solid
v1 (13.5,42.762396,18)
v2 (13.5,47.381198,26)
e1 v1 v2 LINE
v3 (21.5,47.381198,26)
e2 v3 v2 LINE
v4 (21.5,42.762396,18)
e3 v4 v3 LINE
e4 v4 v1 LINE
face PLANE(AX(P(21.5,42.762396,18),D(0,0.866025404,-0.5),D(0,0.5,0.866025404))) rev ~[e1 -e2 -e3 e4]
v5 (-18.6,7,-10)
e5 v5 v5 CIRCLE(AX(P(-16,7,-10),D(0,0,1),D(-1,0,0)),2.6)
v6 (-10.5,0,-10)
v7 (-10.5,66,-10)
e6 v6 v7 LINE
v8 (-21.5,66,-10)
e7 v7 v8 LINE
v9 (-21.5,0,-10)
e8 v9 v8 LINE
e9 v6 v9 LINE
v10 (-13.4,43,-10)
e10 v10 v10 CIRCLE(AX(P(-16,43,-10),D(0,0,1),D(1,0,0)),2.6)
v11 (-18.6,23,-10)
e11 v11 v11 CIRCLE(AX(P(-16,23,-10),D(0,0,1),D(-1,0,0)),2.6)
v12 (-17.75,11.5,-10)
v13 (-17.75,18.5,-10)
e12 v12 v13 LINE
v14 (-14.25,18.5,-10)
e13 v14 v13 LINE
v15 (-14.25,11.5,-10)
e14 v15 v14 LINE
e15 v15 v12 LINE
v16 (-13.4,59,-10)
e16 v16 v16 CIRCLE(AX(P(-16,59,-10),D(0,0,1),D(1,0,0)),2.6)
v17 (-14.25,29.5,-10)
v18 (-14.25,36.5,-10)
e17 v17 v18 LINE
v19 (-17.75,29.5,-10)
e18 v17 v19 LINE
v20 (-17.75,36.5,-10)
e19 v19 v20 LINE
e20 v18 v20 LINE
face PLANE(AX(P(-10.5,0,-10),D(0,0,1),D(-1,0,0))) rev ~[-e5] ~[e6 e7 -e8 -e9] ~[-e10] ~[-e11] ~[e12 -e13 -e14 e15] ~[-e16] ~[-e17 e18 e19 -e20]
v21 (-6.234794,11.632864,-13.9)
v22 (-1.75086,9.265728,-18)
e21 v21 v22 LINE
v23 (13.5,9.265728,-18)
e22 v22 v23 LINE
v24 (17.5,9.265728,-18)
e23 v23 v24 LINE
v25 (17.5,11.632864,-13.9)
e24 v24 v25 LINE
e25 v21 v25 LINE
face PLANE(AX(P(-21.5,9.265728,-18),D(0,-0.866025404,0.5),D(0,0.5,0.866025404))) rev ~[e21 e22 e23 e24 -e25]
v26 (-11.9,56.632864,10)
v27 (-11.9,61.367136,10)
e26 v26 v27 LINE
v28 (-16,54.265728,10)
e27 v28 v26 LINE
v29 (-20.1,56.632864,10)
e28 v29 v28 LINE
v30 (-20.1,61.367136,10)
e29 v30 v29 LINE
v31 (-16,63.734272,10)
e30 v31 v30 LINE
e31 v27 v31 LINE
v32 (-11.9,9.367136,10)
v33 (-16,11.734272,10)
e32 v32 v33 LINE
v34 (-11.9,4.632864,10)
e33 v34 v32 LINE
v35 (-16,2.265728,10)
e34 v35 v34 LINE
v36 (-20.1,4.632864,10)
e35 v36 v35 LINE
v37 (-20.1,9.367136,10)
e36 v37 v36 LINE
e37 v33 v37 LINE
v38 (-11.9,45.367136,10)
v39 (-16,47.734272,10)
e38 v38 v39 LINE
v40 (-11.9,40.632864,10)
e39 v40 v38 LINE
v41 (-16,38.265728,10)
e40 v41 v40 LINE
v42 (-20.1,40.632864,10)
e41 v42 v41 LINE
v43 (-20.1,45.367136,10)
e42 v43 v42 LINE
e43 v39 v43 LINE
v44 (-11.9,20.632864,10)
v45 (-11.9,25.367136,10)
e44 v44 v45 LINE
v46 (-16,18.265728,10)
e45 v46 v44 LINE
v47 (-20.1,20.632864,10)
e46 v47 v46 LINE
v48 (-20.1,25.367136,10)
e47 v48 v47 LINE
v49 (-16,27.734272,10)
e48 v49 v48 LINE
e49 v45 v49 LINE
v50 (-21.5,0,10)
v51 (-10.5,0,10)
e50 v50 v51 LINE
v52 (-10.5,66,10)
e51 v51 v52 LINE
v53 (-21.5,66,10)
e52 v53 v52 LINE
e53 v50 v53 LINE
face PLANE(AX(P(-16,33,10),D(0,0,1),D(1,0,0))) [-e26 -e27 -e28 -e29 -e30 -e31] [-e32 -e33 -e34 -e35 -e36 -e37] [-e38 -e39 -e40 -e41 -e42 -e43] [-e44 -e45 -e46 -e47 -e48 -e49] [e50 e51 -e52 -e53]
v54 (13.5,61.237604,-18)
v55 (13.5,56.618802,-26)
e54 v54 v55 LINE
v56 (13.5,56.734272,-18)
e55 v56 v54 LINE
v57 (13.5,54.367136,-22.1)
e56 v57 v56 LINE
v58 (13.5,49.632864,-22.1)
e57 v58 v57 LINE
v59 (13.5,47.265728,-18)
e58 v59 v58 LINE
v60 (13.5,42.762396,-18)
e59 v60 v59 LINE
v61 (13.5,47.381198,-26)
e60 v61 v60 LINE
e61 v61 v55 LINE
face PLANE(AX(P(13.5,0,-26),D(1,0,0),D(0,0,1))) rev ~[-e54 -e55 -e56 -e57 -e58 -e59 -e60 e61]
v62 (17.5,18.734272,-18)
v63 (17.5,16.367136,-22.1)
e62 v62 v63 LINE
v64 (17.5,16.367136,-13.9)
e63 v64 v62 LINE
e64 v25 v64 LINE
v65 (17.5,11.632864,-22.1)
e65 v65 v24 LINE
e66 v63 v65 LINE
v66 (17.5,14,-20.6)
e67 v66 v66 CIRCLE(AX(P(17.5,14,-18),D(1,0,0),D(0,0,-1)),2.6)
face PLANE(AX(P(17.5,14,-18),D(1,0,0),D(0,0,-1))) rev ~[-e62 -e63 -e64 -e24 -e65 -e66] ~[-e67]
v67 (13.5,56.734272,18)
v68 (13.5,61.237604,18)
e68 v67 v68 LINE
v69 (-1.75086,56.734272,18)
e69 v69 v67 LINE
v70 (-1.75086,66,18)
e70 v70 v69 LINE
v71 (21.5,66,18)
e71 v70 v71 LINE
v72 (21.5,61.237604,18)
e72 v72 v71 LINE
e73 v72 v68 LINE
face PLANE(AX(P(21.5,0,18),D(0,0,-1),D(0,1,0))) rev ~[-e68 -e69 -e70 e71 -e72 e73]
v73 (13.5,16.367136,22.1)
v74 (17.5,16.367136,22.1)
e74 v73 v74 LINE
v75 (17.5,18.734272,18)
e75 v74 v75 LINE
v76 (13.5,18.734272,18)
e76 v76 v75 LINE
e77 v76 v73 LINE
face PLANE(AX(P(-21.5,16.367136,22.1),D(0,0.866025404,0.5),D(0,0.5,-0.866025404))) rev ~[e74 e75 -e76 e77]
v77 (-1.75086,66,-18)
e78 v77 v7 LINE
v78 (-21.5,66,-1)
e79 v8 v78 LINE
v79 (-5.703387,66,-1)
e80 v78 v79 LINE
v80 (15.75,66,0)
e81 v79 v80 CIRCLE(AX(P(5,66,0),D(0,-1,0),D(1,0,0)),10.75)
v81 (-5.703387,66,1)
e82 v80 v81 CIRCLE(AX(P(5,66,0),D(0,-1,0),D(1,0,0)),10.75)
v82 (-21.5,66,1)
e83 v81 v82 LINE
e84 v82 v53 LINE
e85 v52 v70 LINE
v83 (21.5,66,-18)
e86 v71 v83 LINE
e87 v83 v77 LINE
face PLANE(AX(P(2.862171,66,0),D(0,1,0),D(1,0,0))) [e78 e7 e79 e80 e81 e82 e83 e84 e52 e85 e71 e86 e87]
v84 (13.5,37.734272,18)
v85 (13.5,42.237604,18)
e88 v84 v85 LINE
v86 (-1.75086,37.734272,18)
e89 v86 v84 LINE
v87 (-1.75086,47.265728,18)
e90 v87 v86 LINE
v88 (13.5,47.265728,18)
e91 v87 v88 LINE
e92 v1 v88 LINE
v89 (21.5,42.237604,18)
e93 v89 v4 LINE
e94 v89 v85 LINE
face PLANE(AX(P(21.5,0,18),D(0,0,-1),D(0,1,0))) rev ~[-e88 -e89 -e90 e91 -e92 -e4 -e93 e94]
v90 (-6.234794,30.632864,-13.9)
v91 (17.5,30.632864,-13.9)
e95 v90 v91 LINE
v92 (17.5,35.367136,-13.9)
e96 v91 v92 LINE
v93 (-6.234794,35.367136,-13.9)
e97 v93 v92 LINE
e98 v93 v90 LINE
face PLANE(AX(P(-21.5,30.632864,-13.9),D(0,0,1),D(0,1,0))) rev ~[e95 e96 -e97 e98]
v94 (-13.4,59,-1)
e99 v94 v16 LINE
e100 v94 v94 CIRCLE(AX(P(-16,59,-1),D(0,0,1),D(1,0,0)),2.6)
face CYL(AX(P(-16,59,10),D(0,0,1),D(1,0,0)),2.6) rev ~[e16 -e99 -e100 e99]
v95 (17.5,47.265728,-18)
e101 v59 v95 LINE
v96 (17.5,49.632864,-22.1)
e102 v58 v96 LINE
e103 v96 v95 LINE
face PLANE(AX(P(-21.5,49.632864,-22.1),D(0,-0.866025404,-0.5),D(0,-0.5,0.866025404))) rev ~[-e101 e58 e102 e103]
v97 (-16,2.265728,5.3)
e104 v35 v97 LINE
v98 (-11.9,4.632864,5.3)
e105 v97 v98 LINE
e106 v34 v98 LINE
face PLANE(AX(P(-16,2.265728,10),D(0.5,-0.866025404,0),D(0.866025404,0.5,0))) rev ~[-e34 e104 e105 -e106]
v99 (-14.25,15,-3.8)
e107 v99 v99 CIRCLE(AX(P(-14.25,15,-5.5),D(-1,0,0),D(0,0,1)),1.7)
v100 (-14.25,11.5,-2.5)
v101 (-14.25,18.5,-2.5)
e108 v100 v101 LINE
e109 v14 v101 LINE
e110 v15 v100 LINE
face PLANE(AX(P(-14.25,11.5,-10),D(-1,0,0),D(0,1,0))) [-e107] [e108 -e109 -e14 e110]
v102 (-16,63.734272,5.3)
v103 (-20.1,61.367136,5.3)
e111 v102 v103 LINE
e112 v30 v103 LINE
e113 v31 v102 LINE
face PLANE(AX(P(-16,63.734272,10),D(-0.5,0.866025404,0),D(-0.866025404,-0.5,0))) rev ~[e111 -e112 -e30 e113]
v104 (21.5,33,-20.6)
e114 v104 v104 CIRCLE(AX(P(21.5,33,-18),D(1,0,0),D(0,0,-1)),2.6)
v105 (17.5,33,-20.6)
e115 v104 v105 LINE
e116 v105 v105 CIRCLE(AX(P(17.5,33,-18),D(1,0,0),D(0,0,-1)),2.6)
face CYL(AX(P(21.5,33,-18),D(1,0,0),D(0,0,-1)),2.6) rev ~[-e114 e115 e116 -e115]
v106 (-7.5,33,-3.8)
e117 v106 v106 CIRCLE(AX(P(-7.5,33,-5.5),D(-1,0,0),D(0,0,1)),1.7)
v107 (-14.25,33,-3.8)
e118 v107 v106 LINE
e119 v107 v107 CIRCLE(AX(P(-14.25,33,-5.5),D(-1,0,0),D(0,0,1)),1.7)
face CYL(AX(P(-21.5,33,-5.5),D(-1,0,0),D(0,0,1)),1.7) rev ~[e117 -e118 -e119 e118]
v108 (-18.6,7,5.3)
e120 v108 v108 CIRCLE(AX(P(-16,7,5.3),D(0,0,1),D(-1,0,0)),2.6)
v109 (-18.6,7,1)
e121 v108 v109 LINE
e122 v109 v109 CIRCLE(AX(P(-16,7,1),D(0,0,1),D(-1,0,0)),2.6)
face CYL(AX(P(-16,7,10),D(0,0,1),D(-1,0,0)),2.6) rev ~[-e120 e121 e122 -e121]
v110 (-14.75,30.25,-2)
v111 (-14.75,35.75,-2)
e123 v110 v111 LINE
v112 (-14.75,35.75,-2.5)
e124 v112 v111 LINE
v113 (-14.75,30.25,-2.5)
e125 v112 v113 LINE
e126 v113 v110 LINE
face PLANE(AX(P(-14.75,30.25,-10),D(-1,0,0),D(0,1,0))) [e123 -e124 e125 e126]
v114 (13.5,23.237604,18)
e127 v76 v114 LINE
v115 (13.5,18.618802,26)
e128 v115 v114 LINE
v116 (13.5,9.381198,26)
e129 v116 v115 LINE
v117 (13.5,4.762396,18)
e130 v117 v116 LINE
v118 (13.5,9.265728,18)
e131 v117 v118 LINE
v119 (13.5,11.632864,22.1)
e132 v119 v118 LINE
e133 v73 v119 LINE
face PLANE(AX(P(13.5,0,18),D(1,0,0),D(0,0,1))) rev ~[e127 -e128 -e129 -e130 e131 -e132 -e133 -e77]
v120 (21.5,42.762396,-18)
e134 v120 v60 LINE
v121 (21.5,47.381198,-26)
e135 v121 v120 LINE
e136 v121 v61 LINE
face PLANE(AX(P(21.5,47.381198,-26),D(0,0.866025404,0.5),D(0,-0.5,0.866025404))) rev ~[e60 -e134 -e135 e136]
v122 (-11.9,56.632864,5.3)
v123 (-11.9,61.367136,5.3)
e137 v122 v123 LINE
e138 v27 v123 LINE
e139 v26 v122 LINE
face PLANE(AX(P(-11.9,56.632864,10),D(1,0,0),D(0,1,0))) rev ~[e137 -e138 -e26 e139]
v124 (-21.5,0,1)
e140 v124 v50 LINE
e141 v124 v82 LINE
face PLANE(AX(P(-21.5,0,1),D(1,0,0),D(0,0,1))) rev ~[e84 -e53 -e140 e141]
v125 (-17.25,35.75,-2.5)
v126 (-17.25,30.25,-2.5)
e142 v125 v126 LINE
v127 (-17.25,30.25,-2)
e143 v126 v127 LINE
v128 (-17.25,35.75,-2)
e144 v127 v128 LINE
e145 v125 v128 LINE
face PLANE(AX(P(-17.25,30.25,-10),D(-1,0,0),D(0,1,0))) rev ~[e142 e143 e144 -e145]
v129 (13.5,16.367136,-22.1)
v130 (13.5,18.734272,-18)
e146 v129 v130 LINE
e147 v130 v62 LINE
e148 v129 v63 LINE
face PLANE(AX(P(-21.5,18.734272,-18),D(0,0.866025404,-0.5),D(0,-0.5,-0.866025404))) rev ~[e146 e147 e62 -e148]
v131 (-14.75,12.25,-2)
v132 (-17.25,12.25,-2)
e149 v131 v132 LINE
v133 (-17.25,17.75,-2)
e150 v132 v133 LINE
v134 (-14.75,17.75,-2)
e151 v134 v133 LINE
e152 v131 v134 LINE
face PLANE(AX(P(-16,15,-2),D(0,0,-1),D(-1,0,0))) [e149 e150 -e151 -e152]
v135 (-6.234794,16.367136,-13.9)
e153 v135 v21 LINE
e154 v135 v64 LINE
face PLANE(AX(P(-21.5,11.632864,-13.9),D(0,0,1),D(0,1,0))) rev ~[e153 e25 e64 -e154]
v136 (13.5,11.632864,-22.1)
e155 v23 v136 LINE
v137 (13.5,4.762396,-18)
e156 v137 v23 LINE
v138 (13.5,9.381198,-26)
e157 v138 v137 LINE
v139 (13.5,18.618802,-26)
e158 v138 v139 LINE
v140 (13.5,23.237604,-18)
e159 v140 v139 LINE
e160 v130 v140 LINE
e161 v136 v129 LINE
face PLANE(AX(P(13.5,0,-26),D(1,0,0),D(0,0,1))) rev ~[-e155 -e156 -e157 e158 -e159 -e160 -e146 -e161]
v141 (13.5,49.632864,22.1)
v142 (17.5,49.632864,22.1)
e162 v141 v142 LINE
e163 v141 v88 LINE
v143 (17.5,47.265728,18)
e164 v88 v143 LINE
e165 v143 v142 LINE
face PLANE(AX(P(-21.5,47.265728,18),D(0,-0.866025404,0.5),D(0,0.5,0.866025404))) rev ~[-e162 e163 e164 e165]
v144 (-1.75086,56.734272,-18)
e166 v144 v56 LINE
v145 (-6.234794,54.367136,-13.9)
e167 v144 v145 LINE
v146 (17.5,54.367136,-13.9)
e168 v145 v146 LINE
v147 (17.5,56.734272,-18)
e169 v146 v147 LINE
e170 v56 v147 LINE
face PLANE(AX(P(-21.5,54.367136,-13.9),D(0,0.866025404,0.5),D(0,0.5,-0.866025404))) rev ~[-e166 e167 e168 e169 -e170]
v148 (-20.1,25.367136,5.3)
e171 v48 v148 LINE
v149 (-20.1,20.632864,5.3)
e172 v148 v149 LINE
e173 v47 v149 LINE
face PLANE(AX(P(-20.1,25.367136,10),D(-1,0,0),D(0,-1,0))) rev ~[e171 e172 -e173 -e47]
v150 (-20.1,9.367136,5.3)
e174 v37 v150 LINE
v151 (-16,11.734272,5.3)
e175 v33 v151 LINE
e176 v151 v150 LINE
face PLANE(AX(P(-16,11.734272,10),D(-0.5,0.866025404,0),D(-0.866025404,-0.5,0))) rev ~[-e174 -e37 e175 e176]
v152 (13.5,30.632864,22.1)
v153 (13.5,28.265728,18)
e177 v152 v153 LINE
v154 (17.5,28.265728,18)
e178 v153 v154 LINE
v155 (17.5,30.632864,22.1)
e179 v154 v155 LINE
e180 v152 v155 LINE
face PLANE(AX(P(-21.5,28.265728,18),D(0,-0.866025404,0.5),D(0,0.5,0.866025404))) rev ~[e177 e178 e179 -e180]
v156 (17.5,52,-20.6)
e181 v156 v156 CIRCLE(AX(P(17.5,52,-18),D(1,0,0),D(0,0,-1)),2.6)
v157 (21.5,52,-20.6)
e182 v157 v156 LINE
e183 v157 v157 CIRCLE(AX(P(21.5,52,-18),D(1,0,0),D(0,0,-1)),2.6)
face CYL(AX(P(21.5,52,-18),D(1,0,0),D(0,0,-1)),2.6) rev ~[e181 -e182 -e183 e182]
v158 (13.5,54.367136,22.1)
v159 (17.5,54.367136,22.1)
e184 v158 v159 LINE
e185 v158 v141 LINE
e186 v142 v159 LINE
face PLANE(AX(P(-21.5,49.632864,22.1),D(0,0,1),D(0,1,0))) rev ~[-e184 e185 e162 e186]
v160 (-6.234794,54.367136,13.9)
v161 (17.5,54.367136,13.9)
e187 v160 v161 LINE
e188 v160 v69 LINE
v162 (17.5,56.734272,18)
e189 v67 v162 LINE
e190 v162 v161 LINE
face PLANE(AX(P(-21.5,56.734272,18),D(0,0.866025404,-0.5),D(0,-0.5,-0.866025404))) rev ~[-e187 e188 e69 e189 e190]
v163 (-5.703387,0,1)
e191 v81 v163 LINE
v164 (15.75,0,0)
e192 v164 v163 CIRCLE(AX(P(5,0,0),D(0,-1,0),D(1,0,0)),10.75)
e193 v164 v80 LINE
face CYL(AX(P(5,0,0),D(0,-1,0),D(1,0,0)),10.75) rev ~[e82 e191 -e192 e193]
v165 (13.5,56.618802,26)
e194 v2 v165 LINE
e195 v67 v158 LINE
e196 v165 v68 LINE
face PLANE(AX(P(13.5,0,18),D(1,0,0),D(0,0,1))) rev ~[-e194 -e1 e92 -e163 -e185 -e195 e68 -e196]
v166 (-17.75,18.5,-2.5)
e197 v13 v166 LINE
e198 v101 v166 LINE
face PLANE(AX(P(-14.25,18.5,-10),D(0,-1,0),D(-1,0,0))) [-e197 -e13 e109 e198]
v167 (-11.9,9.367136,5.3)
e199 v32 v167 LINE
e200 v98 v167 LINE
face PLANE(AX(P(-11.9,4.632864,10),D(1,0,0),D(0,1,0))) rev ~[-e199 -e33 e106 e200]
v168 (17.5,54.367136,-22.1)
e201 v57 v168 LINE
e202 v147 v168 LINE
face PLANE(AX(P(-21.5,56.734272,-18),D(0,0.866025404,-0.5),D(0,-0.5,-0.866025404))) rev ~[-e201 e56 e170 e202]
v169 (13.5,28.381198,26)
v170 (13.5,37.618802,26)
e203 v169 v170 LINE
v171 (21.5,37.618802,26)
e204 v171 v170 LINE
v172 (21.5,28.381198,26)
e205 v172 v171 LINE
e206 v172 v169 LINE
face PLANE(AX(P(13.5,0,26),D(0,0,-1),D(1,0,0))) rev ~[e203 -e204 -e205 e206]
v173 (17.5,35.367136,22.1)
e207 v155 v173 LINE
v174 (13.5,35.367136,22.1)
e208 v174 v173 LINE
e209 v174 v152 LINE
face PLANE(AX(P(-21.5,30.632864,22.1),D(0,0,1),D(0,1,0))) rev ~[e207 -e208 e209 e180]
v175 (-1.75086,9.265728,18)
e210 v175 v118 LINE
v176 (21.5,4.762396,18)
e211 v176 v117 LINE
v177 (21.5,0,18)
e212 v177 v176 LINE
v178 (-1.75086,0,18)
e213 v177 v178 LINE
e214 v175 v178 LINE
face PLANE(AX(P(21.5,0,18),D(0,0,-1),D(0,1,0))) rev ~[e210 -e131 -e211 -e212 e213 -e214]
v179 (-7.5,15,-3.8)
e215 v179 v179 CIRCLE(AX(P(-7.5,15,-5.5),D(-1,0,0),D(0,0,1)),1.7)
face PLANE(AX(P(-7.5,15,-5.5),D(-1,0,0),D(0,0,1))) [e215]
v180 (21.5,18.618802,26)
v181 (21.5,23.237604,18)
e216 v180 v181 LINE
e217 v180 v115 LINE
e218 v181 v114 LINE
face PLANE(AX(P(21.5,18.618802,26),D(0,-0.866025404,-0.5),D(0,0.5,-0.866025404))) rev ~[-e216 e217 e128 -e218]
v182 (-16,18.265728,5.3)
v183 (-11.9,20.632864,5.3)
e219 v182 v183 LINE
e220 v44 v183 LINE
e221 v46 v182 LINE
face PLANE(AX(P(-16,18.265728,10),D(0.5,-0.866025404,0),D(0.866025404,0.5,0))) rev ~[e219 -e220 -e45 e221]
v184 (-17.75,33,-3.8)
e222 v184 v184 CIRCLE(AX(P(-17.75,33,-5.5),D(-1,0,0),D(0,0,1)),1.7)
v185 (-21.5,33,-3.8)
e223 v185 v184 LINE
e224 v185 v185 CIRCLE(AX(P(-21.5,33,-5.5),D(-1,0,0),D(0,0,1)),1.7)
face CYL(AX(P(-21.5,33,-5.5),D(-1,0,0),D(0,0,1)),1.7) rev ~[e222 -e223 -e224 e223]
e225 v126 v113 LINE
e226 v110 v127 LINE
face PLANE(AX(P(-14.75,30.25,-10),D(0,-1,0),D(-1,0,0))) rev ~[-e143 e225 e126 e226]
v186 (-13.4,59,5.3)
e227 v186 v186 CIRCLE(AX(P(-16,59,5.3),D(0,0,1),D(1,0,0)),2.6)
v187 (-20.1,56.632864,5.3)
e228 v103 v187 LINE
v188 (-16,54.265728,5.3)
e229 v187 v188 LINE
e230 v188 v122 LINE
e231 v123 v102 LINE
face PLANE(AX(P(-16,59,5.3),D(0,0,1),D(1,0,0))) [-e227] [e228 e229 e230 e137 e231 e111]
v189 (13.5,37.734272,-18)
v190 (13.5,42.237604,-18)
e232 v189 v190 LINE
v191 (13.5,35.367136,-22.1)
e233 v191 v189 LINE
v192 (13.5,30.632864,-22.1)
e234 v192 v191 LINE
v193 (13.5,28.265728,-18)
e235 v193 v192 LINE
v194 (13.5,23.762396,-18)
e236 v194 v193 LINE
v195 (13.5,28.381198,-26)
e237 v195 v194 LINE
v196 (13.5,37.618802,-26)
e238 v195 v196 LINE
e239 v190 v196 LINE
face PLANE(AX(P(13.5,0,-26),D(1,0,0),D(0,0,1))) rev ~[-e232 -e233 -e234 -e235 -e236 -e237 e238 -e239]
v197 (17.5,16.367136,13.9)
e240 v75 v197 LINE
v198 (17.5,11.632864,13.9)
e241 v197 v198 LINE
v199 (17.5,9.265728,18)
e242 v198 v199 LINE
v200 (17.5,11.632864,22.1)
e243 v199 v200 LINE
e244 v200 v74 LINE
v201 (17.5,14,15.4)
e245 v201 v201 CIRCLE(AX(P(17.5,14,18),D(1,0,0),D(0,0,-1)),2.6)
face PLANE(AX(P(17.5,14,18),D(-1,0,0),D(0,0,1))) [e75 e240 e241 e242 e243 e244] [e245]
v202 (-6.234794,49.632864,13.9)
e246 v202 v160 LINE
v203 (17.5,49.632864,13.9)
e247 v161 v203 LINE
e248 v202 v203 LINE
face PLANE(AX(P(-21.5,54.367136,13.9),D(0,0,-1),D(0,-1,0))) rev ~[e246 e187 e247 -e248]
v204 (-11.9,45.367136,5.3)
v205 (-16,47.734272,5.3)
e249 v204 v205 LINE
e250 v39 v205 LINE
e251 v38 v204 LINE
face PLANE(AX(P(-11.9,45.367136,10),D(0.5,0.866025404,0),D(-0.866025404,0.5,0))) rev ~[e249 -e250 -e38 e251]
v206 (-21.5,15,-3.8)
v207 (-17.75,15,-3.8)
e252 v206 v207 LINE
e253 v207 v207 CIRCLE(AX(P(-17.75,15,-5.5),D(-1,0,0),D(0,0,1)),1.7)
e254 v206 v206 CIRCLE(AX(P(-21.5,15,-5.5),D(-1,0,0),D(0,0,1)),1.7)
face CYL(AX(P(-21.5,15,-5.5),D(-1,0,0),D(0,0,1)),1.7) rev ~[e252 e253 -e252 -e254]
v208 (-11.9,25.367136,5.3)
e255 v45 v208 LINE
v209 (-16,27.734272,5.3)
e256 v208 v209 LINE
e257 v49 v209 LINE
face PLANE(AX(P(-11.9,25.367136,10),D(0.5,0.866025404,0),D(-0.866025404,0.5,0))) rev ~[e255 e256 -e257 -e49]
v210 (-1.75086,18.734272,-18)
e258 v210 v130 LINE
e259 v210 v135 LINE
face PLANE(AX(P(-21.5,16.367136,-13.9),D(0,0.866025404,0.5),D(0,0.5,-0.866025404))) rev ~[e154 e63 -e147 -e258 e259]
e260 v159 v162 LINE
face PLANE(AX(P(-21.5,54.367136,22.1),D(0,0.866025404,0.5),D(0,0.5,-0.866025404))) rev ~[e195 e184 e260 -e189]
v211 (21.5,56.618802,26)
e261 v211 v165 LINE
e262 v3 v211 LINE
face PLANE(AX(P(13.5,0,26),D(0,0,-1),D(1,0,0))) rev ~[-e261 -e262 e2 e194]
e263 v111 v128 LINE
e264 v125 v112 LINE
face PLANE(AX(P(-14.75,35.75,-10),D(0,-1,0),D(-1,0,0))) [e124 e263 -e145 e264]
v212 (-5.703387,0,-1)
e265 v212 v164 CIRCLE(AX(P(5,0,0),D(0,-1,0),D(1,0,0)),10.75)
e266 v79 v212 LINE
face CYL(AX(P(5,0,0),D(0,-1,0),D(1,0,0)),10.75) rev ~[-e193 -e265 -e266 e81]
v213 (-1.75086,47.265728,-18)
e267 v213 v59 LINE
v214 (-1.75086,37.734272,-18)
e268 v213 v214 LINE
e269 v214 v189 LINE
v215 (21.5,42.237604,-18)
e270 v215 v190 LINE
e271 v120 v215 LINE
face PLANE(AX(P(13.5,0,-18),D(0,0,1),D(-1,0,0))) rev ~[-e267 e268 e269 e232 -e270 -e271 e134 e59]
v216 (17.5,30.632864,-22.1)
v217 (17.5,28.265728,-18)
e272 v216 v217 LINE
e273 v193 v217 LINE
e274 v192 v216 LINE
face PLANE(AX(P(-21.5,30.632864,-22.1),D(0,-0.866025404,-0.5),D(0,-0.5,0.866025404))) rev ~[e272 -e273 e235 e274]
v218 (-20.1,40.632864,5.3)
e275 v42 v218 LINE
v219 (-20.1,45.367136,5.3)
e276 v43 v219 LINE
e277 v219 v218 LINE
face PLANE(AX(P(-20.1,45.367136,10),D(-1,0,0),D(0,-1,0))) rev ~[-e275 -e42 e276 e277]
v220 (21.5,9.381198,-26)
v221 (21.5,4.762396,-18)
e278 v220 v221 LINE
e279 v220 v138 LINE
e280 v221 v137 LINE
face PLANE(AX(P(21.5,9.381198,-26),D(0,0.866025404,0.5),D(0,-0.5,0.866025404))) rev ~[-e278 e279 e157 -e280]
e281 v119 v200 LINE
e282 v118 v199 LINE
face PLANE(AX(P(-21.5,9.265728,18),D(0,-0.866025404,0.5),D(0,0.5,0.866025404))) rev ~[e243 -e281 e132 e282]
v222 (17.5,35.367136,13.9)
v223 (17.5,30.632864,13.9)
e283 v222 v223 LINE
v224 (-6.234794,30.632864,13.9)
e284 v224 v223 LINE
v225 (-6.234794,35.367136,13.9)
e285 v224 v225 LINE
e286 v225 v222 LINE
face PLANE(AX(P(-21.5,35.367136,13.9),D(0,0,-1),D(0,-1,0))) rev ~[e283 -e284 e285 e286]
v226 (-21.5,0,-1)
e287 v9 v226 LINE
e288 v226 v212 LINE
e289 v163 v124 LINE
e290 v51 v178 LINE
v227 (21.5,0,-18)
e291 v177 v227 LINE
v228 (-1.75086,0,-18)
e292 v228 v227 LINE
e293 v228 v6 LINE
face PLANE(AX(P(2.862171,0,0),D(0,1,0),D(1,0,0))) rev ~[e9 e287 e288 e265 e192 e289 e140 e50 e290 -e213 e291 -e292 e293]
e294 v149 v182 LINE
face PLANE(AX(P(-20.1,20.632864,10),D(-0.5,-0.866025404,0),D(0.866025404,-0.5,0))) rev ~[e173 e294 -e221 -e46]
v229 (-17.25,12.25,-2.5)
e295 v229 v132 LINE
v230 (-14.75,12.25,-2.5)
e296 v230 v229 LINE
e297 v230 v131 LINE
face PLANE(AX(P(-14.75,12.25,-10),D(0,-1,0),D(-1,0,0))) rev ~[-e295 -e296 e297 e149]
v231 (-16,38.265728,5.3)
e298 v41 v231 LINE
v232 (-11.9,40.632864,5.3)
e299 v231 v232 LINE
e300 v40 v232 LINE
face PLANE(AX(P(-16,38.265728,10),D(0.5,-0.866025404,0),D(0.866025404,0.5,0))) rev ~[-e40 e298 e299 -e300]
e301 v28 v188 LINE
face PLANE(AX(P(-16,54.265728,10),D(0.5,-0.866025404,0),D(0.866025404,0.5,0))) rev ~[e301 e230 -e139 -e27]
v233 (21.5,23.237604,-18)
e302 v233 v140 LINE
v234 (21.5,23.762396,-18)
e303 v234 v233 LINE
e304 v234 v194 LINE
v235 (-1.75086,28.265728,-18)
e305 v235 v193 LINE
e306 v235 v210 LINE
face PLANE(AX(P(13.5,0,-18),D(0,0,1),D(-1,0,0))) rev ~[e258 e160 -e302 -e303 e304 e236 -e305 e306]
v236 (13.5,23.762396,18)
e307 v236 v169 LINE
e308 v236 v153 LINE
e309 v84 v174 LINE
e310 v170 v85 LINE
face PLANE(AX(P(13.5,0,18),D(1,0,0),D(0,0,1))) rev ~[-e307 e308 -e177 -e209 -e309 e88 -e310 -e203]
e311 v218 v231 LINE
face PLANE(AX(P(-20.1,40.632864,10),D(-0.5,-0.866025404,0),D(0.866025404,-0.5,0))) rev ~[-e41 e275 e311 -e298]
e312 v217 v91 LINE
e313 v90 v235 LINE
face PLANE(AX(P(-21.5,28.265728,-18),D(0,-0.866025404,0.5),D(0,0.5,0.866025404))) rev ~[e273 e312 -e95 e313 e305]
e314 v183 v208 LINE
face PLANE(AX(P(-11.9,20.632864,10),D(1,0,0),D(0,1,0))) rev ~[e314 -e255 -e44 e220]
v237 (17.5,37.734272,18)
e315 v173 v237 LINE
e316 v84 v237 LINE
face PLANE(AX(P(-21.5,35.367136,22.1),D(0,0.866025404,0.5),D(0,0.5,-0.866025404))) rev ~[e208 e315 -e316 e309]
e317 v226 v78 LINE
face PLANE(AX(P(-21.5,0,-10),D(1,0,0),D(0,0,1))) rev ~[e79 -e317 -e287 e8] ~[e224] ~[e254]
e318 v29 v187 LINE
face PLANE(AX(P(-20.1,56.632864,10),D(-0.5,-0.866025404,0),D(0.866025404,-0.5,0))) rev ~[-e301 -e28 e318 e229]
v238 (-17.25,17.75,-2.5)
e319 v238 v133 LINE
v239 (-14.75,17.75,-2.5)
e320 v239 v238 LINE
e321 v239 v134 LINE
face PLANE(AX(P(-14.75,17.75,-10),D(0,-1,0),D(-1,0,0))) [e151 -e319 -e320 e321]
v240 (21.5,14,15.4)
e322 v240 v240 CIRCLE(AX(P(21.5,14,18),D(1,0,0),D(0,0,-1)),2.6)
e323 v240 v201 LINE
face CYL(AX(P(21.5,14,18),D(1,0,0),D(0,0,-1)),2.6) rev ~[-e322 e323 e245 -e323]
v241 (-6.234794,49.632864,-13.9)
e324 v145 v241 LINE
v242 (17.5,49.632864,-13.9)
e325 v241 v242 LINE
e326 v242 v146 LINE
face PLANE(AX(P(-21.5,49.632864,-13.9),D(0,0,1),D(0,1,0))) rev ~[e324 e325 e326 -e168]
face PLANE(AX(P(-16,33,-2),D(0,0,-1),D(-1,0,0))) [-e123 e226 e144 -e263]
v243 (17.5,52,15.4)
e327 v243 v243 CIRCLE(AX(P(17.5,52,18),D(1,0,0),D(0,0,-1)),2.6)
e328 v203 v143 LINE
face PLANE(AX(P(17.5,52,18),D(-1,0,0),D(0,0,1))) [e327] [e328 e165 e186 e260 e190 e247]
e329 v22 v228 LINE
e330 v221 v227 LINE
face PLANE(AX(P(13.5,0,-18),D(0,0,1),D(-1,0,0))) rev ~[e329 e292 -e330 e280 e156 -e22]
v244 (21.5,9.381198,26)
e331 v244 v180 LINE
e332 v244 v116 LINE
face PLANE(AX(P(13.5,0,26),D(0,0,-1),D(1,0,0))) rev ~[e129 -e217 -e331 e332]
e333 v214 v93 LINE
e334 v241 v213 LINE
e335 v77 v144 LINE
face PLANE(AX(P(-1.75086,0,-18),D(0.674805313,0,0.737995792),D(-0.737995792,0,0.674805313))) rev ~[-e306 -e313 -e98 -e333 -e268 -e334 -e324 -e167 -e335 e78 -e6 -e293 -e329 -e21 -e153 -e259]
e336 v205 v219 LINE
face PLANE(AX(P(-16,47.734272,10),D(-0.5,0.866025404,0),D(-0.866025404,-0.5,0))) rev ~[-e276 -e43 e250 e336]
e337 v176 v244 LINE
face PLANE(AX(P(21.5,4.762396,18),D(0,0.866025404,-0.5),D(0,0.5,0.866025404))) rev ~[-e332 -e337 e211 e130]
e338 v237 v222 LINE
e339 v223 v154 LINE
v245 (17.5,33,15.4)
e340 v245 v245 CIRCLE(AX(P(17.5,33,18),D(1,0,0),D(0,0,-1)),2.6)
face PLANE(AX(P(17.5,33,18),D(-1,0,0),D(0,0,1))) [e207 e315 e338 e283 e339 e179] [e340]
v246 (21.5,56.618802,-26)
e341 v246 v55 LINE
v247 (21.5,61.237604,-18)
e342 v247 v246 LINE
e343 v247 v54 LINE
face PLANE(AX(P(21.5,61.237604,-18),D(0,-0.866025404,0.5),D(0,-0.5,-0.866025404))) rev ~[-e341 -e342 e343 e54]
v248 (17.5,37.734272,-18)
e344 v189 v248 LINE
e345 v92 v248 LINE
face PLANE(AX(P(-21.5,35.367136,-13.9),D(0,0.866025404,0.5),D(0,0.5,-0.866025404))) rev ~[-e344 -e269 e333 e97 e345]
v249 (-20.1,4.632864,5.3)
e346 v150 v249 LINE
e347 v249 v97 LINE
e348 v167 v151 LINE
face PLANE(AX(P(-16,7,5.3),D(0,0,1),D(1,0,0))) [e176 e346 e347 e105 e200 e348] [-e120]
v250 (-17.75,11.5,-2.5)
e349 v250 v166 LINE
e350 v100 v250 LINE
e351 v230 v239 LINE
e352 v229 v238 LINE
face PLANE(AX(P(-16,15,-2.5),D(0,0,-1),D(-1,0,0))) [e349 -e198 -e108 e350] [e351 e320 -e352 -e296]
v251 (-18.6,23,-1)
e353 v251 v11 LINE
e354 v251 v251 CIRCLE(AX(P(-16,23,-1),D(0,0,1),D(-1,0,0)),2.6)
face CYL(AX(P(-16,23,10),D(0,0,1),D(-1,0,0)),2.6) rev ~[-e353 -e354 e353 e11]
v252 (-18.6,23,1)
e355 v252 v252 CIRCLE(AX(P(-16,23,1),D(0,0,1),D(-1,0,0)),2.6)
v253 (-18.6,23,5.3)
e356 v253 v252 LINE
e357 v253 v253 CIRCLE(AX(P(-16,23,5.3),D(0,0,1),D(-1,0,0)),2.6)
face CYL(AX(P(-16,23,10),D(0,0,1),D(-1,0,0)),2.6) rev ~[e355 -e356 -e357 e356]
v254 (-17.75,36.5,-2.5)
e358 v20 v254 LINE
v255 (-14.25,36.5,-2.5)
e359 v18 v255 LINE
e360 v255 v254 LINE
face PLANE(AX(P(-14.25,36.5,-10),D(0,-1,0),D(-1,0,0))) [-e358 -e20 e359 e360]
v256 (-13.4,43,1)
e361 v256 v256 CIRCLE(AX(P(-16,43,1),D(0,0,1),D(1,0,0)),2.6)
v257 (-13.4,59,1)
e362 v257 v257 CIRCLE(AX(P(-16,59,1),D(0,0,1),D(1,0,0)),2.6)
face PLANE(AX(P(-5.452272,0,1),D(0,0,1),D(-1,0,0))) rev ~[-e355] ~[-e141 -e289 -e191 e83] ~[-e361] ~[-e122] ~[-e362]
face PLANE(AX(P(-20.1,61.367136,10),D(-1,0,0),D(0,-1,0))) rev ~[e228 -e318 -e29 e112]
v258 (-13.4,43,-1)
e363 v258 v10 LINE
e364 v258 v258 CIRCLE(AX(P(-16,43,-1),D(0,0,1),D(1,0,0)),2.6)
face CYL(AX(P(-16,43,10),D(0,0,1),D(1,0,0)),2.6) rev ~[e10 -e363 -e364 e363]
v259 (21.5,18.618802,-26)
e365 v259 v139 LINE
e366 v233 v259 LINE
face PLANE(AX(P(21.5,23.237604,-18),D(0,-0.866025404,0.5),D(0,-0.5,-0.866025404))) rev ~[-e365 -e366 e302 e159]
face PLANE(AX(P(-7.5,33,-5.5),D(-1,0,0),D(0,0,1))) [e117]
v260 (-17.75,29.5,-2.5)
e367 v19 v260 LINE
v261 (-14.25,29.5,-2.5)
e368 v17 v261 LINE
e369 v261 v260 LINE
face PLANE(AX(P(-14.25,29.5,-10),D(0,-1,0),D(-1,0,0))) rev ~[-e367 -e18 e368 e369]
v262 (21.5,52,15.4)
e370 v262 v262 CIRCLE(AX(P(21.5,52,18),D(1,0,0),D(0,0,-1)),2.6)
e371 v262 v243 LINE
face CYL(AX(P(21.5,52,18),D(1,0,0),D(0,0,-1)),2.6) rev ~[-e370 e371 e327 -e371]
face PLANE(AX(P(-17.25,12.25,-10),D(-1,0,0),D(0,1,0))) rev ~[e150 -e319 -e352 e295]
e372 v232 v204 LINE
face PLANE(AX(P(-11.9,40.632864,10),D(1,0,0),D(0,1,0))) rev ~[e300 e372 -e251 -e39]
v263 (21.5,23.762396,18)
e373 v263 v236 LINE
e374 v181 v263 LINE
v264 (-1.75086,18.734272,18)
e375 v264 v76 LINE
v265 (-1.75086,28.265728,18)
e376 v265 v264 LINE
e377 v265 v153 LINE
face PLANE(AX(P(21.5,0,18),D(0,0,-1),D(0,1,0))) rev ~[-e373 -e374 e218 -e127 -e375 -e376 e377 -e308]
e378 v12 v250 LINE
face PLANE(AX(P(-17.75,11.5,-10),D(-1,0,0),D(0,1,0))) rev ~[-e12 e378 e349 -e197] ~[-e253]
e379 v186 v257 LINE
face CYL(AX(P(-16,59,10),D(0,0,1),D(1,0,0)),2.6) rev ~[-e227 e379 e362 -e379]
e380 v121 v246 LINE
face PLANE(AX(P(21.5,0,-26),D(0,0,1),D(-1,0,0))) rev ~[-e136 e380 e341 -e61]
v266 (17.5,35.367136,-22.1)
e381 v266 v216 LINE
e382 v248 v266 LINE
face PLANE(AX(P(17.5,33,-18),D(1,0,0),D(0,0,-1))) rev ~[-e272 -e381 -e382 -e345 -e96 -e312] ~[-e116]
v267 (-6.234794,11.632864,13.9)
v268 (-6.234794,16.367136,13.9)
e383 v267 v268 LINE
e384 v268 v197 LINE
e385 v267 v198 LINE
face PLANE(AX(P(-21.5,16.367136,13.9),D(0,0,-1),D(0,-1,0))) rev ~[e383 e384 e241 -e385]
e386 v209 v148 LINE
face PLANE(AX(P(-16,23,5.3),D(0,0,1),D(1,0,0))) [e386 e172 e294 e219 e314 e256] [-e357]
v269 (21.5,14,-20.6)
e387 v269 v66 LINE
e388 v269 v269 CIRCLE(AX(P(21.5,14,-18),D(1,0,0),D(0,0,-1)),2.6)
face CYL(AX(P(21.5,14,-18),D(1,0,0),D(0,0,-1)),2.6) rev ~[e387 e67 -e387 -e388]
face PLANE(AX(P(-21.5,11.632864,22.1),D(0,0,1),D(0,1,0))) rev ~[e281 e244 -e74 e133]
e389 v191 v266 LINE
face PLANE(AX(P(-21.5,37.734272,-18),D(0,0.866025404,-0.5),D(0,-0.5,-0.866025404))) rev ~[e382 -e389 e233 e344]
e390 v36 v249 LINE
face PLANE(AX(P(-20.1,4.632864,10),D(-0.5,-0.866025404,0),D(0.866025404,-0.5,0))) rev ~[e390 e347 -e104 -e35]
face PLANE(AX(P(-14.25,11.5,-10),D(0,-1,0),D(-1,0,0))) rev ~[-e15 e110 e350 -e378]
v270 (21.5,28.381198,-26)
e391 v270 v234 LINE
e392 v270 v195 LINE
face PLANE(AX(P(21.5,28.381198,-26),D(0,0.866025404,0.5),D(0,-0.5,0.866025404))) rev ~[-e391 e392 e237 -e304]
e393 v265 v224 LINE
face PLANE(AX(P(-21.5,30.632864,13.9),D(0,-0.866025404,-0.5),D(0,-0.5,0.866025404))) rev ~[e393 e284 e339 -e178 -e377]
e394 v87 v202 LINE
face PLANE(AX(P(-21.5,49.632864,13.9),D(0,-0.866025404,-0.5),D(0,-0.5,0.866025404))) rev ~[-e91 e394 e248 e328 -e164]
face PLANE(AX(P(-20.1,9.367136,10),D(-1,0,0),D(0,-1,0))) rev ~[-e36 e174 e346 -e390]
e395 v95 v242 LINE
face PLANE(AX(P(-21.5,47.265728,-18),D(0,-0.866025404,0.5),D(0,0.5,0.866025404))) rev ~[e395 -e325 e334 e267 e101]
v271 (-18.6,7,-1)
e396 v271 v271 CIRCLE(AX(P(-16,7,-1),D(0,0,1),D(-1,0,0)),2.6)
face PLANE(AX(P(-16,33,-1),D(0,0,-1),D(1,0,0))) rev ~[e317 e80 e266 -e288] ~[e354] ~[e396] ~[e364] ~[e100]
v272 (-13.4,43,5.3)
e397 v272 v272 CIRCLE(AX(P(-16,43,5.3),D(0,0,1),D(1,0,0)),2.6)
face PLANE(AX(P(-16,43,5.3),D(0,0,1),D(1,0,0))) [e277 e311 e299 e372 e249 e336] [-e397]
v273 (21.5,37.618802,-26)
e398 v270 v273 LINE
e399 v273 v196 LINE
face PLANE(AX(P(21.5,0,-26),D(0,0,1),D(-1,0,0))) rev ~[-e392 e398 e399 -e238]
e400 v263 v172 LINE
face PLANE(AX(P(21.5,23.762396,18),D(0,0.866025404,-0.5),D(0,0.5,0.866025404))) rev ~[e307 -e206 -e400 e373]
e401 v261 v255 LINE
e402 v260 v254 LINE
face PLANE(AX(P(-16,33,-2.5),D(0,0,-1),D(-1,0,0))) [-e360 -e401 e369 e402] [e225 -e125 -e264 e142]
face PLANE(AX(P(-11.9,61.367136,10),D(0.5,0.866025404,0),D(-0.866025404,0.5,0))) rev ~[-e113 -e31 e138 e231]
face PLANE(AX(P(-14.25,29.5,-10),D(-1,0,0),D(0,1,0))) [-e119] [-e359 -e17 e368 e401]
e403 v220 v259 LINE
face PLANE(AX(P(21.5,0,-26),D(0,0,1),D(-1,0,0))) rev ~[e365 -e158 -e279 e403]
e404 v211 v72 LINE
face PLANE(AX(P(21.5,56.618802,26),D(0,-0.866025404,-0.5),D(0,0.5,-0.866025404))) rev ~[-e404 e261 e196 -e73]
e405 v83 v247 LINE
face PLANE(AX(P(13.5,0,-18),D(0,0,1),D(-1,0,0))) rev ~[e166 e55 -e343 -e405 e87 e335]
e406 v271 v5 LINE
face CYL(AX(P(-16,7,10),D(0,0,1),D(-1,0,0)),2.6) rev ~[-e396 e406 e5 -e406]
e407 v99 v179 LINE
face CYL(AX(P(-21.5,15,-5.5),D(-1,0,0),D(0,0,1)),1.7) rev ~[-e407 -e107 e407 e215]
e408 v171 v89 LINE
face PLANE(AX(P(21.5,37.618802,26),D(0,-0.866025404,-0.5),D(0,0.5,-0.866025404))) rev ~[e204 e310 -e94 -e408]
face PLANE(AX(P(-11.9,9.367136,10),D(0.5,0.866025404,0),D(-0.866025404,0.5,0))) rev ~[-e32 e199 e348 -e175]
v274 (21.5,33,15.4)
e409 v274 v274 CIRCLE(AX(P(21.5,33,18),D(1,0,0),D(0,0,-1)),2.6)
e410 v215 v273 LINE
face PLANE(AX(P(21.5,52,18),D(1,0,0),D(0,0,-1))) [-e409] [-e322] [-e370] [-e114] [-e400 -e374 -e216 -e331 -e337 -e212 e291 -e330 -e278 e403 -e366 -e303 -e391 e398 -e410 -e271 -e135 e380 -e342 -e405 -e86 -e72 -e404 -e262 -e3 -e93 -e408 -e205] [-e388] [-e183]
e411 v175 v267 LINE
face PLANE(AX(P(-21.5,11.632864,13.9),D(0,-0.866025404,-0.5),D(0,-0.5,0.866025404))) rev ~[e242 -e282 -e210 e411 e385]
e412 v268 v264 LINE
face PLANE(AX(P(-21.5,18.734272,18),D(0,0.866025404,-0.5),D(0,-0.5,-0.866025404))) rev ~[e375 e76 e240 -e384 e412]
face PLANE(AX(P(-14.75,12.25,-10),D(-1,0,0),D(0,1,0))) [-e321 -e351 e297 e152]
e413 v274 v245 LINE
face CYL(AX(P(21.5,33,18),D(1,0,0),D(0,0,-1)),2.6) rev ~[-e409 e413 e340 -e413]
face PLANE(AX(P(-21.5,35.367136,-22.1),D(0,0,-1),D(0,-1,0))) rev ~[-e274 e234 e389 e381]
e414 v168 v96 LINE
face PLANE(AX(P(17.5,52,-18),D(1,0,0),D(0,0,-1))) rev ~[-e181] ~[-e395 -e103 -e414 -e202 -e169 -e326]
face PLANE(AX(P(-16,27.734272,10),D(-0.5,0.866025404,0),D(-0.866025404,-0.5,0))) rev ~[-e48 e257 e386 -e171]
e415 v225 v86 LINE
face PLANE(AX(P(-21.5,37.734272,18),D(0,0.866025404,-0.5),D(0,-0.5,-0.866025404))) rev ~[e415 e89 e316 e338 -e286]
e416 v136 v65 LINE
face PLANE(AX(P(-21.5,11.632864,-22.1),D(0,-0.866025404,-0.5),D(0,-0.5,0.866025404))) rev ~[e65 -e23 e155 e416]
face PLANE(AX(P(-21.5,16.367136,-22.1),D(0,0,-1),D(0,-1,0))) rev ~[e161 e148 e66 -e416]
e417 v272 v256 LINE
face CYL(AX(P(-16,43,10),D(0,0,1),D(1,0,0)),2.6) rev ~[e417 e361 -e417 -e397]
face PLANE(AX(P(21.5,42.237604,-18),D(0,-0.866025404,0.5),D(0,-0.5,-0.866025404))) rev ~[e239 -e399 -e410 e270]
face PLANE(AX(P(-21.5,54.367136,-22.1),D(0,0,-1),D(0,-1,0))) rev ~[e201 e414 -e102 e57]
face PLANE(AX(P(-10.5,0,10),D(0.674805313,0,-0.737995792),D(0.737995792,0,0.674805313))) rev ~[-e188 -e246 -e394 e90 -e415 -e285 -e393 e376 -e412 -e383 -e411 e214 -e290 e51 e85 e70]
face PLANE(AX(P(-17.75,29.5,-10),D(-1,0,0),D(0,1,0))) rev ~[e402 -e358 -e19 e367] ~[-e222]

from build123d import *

# Parameters (mm, degrees)
EXTRUDE_5_DEPTH      = 66
CUT_EXTRUDE_1_DEPTH  = 83.95179323
SKETCH_6_4_R         = 2.5
CUT_EXTRUDE_3_DEPTH  = 83.95179323
CUT_EXTRUDE_5_DEPTH  = 83.95179323
EXTRUDE_9_DEPTH      = 4
SKETCH_16_R          = 2.5
CUT_EXTRUDE_6_DEPTH  = 81.950602221
SKETCH_21_R          = 2.5
CUT_EXTRUDE_9_DEPTH  = 79.193669821
CUT_EXTRUDE_10_DEPTH = 4.7
EXTRUDE_START        = -9
SKETCH_26_R          = 2.5
EXTRUDE_11_DEPTH     = 9
SKETCH_27_R          = 2.5
EXTRUDE_12_DEPTH     = 9
SKETCH_25_R          = 1.5
CUT_EXTRUDE_12_DEPTH = 10
SKETCH_30_W          = 2.5
SKETCH_30_H          = 5.5
CUT_EXTRUDE_13_DEPTH = 8
SKETCH_31_R          = 2.6
CUT_EXTRUDE_14_DEPTH = 83.95179323
CUT_EXTRUDE_15_DEPTH = 39
SKETCH_33_R          = 2.6
CUT_EXTRUDE_16_DEPTH = 79.193669821
CUT_EXTRUDE_17_DEPTH = 4.7
SKETCH_35_R          = 10.75
CUT_EXTRUDE_18_DEPTH = 75.123208241
SKETCH_36_W          = 3.5
SKETCH_36_H          = 7
SKETCH_36_W_2        = 2.5
SKETCH_36_H_2        = 5.5
CUT_EXTRUDE_19_DEPTH = 7.5
SKETCH_37_R          = 1.7
CUT_EXTRUDE_20_DEPTH = 14


with BuildPart() as part:
    # Эскиз1 → Бобышка-Вытянуть5 (new body)
    with BuildSketch(Plane(origin=(0, 0, 0), x_dir=(1, 0, 0), z_dir=(0, 1, 0))):
        with BuildLine():
            Line((-21.5, 10), (-21.5, 1))
            Line((-21.5, 1), (-5.45227248, 1))
            ThreePointArc((-5.45227248, 1), (15.5, 0), (-5.45227248, -1))
            Line((-5.45227248, -1), (-21.5, -1))
            Line((-21.5, -1), (-21.5, -10))
            Line((-21.5, -10), (-10.5, -10))
            Line((-10.5, -10), (-1.750859731, -18))
            Line((-1.750859731, -18), (13.5, -18))
            Line((13.5, -18), (13.5, -26))
            Line((13.5, -26), (21.5, -26))
            Line((21.5, -26), (21.5, -18))
            Line((21.5, -18), (21.5, 18))
            Line((21.5, 18), (21.5, 26))
            Line((21.5, 26), (13.5, 26))
            Line((13.5, 26), (13.5, 18))
            Line((13.5, 18), (-1.750859731, 18))
            Line((-1.750859731, 18), (-10.5, 10))
            Line((-10.5, 10), (-21.5, 10))
        make_face()
    extrude(amount=EXTRUDE_5_DEPTH)

    # Эскиз6 → Вырез-Вытянуть1 (cut, through all)
    with BuildSketch(Plane(origin=(21.5, 0, 0), x_dir=(0, 0, -1), z_dir=(1, 0, 0))):
        Polygon((-18, 61.237604307), (-18, 66), (-26, 66), (-26, 56.618802154), align=None)
        Polygon((-18, 42.762395693), (-26, 47.381197846), (-26, 37.618802154), (-18, 42.237604307), align=None)
        Polygon((-18, 23.762395693), (-26, 28.381197846), (-26, 18.618802154), (-18, 23.237604307), align=None)
        Polygon((-18, 4.762395693), (-26, 9.381197846), (-26, 0.083563763), (-26, 0), (-18, 0), align=None)
        Polygon((26, 0), (26, 9.381197846), (18, 4.762395693), (18, 0), align=None)
        Polygon((26, 18.618802154), (26, 28.381197846), (18, 23.762395693), (18, 23.237604307), align=None)
        Polygon((26, 37.618802154), (26, 47.381197846), (18, 42.762395693), (18, 42.237604307), align=None)
        Polygon((26, 66), (18, 66), (18, 61.237604307), (26, 56.618802154), align=None)
    extrude(amount=-CUT_EXTRUDE_1_DEPTH, mode=Mode.SUBTRACT)

    # Эскиз6<4> → Вырез-Вытянуть3 (cut, through all)
    with BuildSketch(Plane(origin=(21.5, 0, 0), x_dir=(0, 0, -1), z_dir=(1, 0, 0))):
        with Locations((-18, 52)):
            Circle(SKETCH_6_4_R)
        with Locations((-18, 33)):
            Circle(SKETCH_6_4_R)
        with Locations((-18, 14)):
            Circle(SKETCH_6_4_R)
        with Locations((18, 14)):
            Circle(SKETCH_6_4_R)
        with Locations((18, 33)):
            Circle(SKETCH_6_4_R)
        with Locations((18, 52)):
            Circle(SKETCH_6_4_R)
    extrude(amount=-CUT_EXTRUDE_3_DEPTH, mode=Mode.SUBTRACT)

    # Эскиз10 → Вырез-Вытянуть5 (cut, through all)
    with BuildSketch(Plane(origin=(21.5, 0, 0), x_dir=(0, 0, -1), z_dir=(1, 0, 0))):
        Polygon((14, 16.309401077), (14, 11.690598923), (18, 9.381197846), (22, 11.690598923), (22, 16.309401077), (18, 18.618802154), align=None)
        Polygon((14, 35.309401077), (14, 30.690598923), (18, 28.381197846), (22, 30.690598923), (22, 35.309401077), (18, 37.618802154), align=None)
        Polygon((14, 54.309401077), (14, 49.690598923), (18, 47.381197846), (22, 49.690598923), (22, 54.309401077), (18, 56.618802154), align=None)
        Polygon((-18, 56.618802154), (-14, 54.309401077), (-14, 49.690598923), (-18, 47.381197846), (-22, 49.690598923), (-22, 54.309401077), align=None)
        Polygon((-18, 37.618802154), (-14, 35.309401077), (-14, 30.690598923), (-18, 28.381197846), (-22, 30.690598923), (-22, 35.309401077), align=None)
        Polygon((-18, 18.618802154), (-14, 16.309401077), (-14, 11.690598923), (-18, 9.381197846), (-22, 11.690598923), (-22, 16.309401077), align=None)
    extrude(amount=-CUT_EXTRUDE_5_DEPTH, mode=Mode.SUBTRACT)

    # Эскиз12 → Бобышка-Вытянуть9 (add)
    with BuildSketch(Plane(origin=(21.5, 0, 0), x_dir=(0, 0, -1), z_dir=(1, 0, 0))):
        Polygon((-14, 49.690598923), (-14, 54.309401077), (-18, 56.618802154), (-22, 54.309401077), (-22, 49.690598923), (-18, 47.381197846), align=None)
        Polygon((-14, 30.690598923), (-14, 35.309401077), (-18, 37.618802154), (-22, 35.309401077), (-22, 30.690598923), (-18, 28.381197846), align=None)
        Polygon((-14, 11.690598923), (-14, 16.309401077), (-18, 18.618802154), (-22, 16.309401077), (-22, 11.690598923), (-18, 9.381197846), align=None)
        Polygon((22, 49.690598923), (22, 54.309401077), (18, 56.618802154), (14, 54.309401077), (14, 49.690598923), (18, 47.381197846), align=None)
        Polygon((22, 30.690598923), (22, 35.309401077), (18, 37.618802154), (14, 35.309401077), (14, 30.690598923), (18, 28.381197846), align=None)
        Polygon((22, 11.690598923), (22, 16.309401077), (18, 18.618802154), (14, 16.309401077), (14, 11.690598923), (18, 9.381197846), align=None)
    extrude(amount=-EXTRUDE_9_DEPTH)

    # Эскиз16 → Вырез-Вытянуть6 (cut, through all)
    with BuildSketch(Plane.ZY.offset(-17.5)):
        with Locations((-18, 52)):
            Circle(SKETCH_16_R)
        with Locations((-18, 33)):
            Circle(SKETCH_16_R)
        with Locations((-18, 14)):
            Circle(SKETCH_16_R)
        with Locations((18, 14)):
            Circle(SKETCH_16_R)
        with Locations((18, 33)):
            Circle(SKETCH_16_R)
        with Locations((18, 52)):
            Circle(SKETCH_16_R)
    extrude(amount=-CUT_EXTRUDE_6_DEPTH, mode=Mode.SUBTRACT)

    # Эскиз21 → Вырез-Вытянуть9 (cut, through all)
    with BuildSketch(Plane.XY.offset(10)):
        with Locations(Location((-16, 59, 0), (0, 0, 180))):
            Circle(SKETCH_21_R)
        with Locations(Location((-16, 43, 0), (0, 0, 180))):
            Circle(SKETCH_21_R)
        with Locations(Location((-16, 23, 0), (0, 0, 180))):
            Circle(SKETCH_21_R)
        with Locations(Location((-16, 7, 0), (0, 0, 180))):
            Circle(SKETCH_21_R)
        with Locations(Location((-16, 33, 0), (0, 0, 180))):
            Circle(SKETCH_21_R)
    extrude(amount=-CUT_EXTRUDE_9_DEPTH, mode=Mode.SUBTRACT)

    # Эскиз22 → Вырез-Вытянуть10 (cut)
    with BuildSketch(Plane.XY.offset(10)):
        Polygon((-12, 56.690598923), (-12, 61.309401077), (-16, 63.618802154), (-20, 61.309401077), (-20, 56.690598923), (-16, 54.381197846), align=None)
        Polygon((-12, 40.690598923), (-12, 45.309401077), (-16, 47.618802154), (-20, 45.309401077), (-20, 40.690598923), (-16, 38.381197846), align=None)
        Polygon((-16, 27.618802154), (-12, 25.309401077), (-12, 20.690598923), (-16, 18.381197846), (-20, 20.690598923), (-20, 25.309401077), align=None)
        Polygon((-16, 11.618802154), (-12, 9.309401077), (-12, 4.690598923), (-16, 2.381197846), (-20, 4.690598923), (-20, 9.309401077), align=None)
    extrude(amount=-CUT_EXTRUDE_10_DEPTH, mode=Mode.SUBTRACT)

    # Эскиз26 → Бобышка-Вытянуть11 (add)
    with BuildSketch(Plane(origin=(0, 0, -10), x_dir=(-1, 0, 0), z_dir=(0, 0, -1)).offset(EXTRUDE_START)):
        with Locations(Location((16, 33, 0), (0, 0, 180))):
            Circle(SKETCH_26_R)
    extrude(amount=EXTRUDE_11_DEPTH)

    # Эскиз27 → Бобышка-Вытянуть12 (add)
    with BuildSketch(Plane.XY.offset(10)):
        with Locations((-16, 33)):
            Circle(SKETCH_27_R)
    extrude(amount=-EXTRUDE_12_DEPTH)

    # Эскиз25 → Вырез-Вытянуть12 (cut)
    with BuildSketch(Plane.ZY.offset(21.5)):
        with Locations((-5.5, 15)):
            Circle(SKETCH_25_R)
        with Locations((-5.5, 33)):
            Circle(SKETCH_25_R)
    extrude(amount=-CUT_EXTRUDE_12_DEPTH, mode=Mode.SUBTRACT)

    # Эскиз30 → Вырез-Вытянуть13 (cut)
    with BuildSketch(Plane(origin=(0, 0, -10), x_dir=(-1, 0, 0), z_dir=(0, 0, -1))):
        with Locations((16, 33)):
            Rectangle(SKETCH_30_W, SKETCH_30_H)
        with Locations((16, 15)):
            Rectangle(SKETCH_30_W, SKETCH_30_H)
    extrude(amount=-CUT_EXTRUDE_13_DEPTH, mode=Mode.SUBTRACT)

    # Эскиз31 → Вырез-Вытянуть14 (cut, through all)
    with BuildSketch(Plane(origin=(21.5, 0, 0), x_dir=(0, 0, -1), z_dir=(1, 0, 0))):
        with Locations((18, 52)):
            Circle(SKETCH_31_R)
        with Locations((18, 33)):
            Circle(SKETCH_31_R)
        with Locations((18, 14)):
            Circle(SKETCH_31_R)
        with Locations((-18, 14)):
            Circle(SKETCH_31_R)
        with Locations((-18, 33)):
            Circle(SKETCH_31_R)
        with Locations((-18, 52)):
            Circle(SKETCH_31_R)
    extrude(amount=-CUT_EXTRUDE_14_DEPTH, mode=Mode.SUBTRACT)

    # Эскиз32 → Вырез-Вытянуть15 (cut)
    with BuildSketch(Plane.ZY.offset(21.5)):
        Polygon((18, 28.265727793), (22.1, 30.632863896), (22.1, 35.367136104), (18, 37.734272207), (13.9, 35.367136104), (13.9, 30.632863896), align=None)
        Polygon((18, 9.265727793), (22.1, 11.632863896), (22.1, 16.367136104), (18, 18.734272207), (13.9, 16.367136104), (13.9, 11.632863896), align=None)
        Polygon((-18, 9.265727793), (-13.9, 11.632863896), (-13.9, 16.367136104), (-18, 18.734272207), (-22.1, 16.367136104), (-22.1, 11.632863896), align=None)
        Polygon((-18, 28.265727793), (-13.9, 30.632863896), (-13.9, 35.367136104), (-18, 37.734272207), (-22.1, 35.367136104), (-22.1, 30.632863896), align=None)
        Polygon((-18, 47.265727793), (-13.9, 49.632863896), (-13.9, 54.367136104), (-18, 56.734272207), (-22.1, 54.367136104), (-22.1, 49.632863896), align=None)
        Polygon((18, 47.265727793), (22.1, 49.632863896), (22.1, 54.367136104), (18, 56.734272207), (13.9, 54.367136104), (13.9, 49.632863896), align=None)
    extrude(amount=-CUT_EXTRUDE_15_DEPTH, mode=Mode.SUBTRACT)

    # Эскиз33 → Вырез-Вытянуть16 (cut, through all)
    with BuildSketch(Plane.XY.offset(10)):
        with Locations((-16, 59)):
            Circle(SKETCH_33_R)
        with Locations((-16, 43)):
            Circle(SKETCH_33_R)
        with Locations(Location((-16, 23, 0), (0, 0, 180))):
            Circle(SKETCH_33_R)
        with Locations(Location((-16, 7, 0), (0, 0, 180))):
            Circle(SKETCH_33_R)
    extrude(amount=-CUT_EXTRUDE_16_DEPTH, mode=Mode.SUBTRACT)

    # Эскиз34 → Вырез-Вытянуть17 (cut)
    with BuildSketch(Plane.XY.offset(10)):
        Polygon((-16, 54.265727793), (-11.9, 56.632863896), (-11.9, 61.367136104), (-16, 63.734272207), (-20.1, 61.367136104), (-20.1, 56.632863896), align=None)
        Polygon((-16, 38.265727793), (-11.9, 40.632863896), (-11.9, 45.367136104), (-16, 47.734272207), (-20.1, 45.367136104), (-20.1, 40.632863896), align=None)
        Polygon((-16, 18.265727793), (-11.9, 20.632863896), (-11.9, 25.367136104), (-16, 27.734272207), (-20.1, 25.367136104), (-20.1, 20.632863896), align=None)
        Polygon((-16, 2.265727793), (-11.9, 4.632863896), (-11.9, 9.367136104), (-16, 11.734272207), (-20.1, 9.367136104), (-20.1, 4.632863896), align=None)
    extrude(amount=-CUT_EXTRUDE_17_DEPTH, mode=Mode.SUBTRACT)

    # Эскиз35 → Вырез-Вытянуть18 (cut, through all)
    with BuildSketch(Plane.XZ):
        with Locations((5, 0)):
            Circle(SKETCH_35_R)
    extrude(amount=-CUT_EXTRUDE_18_DEPTH, mode=Mode.SUBTRACT)

    # Эскиз36 → Вырез-Вытянуть19 (cut)
    # profile 1 of 3: a face of its own
    with BuildSketch(Plane(origin=(0, 0, -10), x_dir=(-1, 0, 0), z_dir=(0, 0, -1))):
        with Locations((16, 15)):
            Rectangle(SKETCH_36_W, SKETCH_36_H)
        with Locations((16, 15)):
            Rectangle(SKETCH_36_W_2, SKETCH_36_H_2, mode=Mode.SUBTRACT)
    # profile 2 of 3: a face of its own
    with BuildSketch(Plane(origin=(0, 0, -10), x_dir=(-1, 0, 0), z_dir=(0, 0, -1))):
        with Locations((16, 15)):
            Rectangle(SKETCH_36_W_2, SKETCH_36_H_2)
    # profile 3 of 3: a face of its own
    with BuildSketch(Plane(origin=(0, 0, -10), x_dir=(-1, 0, 0), z_dir=(0, 0, -1))):
        with Locations((16, 33)):
            Rectangle(SKETCH_36_W, SKETCH_36_H)
    extrude(amount=-CUT_EXTRUDE_19_DEPTH, mode=Mode.SUBTRACT)

    # Эскиз37 → Вырез-Вытянуть20 (cut)
    with BuildSketch(Plane.ZY.offset(21.5)):
        with Locations((-5.5, 33)):
            Circle(SKETCH_37_R)
        with Locations((-5.5, 15)):
            Circle(SKETCH_37_R)
    extrude(amount=-CUT_EXTRUDE_20_DEPTH, mode=Mode.SUBTRACT)


solid = part.part
